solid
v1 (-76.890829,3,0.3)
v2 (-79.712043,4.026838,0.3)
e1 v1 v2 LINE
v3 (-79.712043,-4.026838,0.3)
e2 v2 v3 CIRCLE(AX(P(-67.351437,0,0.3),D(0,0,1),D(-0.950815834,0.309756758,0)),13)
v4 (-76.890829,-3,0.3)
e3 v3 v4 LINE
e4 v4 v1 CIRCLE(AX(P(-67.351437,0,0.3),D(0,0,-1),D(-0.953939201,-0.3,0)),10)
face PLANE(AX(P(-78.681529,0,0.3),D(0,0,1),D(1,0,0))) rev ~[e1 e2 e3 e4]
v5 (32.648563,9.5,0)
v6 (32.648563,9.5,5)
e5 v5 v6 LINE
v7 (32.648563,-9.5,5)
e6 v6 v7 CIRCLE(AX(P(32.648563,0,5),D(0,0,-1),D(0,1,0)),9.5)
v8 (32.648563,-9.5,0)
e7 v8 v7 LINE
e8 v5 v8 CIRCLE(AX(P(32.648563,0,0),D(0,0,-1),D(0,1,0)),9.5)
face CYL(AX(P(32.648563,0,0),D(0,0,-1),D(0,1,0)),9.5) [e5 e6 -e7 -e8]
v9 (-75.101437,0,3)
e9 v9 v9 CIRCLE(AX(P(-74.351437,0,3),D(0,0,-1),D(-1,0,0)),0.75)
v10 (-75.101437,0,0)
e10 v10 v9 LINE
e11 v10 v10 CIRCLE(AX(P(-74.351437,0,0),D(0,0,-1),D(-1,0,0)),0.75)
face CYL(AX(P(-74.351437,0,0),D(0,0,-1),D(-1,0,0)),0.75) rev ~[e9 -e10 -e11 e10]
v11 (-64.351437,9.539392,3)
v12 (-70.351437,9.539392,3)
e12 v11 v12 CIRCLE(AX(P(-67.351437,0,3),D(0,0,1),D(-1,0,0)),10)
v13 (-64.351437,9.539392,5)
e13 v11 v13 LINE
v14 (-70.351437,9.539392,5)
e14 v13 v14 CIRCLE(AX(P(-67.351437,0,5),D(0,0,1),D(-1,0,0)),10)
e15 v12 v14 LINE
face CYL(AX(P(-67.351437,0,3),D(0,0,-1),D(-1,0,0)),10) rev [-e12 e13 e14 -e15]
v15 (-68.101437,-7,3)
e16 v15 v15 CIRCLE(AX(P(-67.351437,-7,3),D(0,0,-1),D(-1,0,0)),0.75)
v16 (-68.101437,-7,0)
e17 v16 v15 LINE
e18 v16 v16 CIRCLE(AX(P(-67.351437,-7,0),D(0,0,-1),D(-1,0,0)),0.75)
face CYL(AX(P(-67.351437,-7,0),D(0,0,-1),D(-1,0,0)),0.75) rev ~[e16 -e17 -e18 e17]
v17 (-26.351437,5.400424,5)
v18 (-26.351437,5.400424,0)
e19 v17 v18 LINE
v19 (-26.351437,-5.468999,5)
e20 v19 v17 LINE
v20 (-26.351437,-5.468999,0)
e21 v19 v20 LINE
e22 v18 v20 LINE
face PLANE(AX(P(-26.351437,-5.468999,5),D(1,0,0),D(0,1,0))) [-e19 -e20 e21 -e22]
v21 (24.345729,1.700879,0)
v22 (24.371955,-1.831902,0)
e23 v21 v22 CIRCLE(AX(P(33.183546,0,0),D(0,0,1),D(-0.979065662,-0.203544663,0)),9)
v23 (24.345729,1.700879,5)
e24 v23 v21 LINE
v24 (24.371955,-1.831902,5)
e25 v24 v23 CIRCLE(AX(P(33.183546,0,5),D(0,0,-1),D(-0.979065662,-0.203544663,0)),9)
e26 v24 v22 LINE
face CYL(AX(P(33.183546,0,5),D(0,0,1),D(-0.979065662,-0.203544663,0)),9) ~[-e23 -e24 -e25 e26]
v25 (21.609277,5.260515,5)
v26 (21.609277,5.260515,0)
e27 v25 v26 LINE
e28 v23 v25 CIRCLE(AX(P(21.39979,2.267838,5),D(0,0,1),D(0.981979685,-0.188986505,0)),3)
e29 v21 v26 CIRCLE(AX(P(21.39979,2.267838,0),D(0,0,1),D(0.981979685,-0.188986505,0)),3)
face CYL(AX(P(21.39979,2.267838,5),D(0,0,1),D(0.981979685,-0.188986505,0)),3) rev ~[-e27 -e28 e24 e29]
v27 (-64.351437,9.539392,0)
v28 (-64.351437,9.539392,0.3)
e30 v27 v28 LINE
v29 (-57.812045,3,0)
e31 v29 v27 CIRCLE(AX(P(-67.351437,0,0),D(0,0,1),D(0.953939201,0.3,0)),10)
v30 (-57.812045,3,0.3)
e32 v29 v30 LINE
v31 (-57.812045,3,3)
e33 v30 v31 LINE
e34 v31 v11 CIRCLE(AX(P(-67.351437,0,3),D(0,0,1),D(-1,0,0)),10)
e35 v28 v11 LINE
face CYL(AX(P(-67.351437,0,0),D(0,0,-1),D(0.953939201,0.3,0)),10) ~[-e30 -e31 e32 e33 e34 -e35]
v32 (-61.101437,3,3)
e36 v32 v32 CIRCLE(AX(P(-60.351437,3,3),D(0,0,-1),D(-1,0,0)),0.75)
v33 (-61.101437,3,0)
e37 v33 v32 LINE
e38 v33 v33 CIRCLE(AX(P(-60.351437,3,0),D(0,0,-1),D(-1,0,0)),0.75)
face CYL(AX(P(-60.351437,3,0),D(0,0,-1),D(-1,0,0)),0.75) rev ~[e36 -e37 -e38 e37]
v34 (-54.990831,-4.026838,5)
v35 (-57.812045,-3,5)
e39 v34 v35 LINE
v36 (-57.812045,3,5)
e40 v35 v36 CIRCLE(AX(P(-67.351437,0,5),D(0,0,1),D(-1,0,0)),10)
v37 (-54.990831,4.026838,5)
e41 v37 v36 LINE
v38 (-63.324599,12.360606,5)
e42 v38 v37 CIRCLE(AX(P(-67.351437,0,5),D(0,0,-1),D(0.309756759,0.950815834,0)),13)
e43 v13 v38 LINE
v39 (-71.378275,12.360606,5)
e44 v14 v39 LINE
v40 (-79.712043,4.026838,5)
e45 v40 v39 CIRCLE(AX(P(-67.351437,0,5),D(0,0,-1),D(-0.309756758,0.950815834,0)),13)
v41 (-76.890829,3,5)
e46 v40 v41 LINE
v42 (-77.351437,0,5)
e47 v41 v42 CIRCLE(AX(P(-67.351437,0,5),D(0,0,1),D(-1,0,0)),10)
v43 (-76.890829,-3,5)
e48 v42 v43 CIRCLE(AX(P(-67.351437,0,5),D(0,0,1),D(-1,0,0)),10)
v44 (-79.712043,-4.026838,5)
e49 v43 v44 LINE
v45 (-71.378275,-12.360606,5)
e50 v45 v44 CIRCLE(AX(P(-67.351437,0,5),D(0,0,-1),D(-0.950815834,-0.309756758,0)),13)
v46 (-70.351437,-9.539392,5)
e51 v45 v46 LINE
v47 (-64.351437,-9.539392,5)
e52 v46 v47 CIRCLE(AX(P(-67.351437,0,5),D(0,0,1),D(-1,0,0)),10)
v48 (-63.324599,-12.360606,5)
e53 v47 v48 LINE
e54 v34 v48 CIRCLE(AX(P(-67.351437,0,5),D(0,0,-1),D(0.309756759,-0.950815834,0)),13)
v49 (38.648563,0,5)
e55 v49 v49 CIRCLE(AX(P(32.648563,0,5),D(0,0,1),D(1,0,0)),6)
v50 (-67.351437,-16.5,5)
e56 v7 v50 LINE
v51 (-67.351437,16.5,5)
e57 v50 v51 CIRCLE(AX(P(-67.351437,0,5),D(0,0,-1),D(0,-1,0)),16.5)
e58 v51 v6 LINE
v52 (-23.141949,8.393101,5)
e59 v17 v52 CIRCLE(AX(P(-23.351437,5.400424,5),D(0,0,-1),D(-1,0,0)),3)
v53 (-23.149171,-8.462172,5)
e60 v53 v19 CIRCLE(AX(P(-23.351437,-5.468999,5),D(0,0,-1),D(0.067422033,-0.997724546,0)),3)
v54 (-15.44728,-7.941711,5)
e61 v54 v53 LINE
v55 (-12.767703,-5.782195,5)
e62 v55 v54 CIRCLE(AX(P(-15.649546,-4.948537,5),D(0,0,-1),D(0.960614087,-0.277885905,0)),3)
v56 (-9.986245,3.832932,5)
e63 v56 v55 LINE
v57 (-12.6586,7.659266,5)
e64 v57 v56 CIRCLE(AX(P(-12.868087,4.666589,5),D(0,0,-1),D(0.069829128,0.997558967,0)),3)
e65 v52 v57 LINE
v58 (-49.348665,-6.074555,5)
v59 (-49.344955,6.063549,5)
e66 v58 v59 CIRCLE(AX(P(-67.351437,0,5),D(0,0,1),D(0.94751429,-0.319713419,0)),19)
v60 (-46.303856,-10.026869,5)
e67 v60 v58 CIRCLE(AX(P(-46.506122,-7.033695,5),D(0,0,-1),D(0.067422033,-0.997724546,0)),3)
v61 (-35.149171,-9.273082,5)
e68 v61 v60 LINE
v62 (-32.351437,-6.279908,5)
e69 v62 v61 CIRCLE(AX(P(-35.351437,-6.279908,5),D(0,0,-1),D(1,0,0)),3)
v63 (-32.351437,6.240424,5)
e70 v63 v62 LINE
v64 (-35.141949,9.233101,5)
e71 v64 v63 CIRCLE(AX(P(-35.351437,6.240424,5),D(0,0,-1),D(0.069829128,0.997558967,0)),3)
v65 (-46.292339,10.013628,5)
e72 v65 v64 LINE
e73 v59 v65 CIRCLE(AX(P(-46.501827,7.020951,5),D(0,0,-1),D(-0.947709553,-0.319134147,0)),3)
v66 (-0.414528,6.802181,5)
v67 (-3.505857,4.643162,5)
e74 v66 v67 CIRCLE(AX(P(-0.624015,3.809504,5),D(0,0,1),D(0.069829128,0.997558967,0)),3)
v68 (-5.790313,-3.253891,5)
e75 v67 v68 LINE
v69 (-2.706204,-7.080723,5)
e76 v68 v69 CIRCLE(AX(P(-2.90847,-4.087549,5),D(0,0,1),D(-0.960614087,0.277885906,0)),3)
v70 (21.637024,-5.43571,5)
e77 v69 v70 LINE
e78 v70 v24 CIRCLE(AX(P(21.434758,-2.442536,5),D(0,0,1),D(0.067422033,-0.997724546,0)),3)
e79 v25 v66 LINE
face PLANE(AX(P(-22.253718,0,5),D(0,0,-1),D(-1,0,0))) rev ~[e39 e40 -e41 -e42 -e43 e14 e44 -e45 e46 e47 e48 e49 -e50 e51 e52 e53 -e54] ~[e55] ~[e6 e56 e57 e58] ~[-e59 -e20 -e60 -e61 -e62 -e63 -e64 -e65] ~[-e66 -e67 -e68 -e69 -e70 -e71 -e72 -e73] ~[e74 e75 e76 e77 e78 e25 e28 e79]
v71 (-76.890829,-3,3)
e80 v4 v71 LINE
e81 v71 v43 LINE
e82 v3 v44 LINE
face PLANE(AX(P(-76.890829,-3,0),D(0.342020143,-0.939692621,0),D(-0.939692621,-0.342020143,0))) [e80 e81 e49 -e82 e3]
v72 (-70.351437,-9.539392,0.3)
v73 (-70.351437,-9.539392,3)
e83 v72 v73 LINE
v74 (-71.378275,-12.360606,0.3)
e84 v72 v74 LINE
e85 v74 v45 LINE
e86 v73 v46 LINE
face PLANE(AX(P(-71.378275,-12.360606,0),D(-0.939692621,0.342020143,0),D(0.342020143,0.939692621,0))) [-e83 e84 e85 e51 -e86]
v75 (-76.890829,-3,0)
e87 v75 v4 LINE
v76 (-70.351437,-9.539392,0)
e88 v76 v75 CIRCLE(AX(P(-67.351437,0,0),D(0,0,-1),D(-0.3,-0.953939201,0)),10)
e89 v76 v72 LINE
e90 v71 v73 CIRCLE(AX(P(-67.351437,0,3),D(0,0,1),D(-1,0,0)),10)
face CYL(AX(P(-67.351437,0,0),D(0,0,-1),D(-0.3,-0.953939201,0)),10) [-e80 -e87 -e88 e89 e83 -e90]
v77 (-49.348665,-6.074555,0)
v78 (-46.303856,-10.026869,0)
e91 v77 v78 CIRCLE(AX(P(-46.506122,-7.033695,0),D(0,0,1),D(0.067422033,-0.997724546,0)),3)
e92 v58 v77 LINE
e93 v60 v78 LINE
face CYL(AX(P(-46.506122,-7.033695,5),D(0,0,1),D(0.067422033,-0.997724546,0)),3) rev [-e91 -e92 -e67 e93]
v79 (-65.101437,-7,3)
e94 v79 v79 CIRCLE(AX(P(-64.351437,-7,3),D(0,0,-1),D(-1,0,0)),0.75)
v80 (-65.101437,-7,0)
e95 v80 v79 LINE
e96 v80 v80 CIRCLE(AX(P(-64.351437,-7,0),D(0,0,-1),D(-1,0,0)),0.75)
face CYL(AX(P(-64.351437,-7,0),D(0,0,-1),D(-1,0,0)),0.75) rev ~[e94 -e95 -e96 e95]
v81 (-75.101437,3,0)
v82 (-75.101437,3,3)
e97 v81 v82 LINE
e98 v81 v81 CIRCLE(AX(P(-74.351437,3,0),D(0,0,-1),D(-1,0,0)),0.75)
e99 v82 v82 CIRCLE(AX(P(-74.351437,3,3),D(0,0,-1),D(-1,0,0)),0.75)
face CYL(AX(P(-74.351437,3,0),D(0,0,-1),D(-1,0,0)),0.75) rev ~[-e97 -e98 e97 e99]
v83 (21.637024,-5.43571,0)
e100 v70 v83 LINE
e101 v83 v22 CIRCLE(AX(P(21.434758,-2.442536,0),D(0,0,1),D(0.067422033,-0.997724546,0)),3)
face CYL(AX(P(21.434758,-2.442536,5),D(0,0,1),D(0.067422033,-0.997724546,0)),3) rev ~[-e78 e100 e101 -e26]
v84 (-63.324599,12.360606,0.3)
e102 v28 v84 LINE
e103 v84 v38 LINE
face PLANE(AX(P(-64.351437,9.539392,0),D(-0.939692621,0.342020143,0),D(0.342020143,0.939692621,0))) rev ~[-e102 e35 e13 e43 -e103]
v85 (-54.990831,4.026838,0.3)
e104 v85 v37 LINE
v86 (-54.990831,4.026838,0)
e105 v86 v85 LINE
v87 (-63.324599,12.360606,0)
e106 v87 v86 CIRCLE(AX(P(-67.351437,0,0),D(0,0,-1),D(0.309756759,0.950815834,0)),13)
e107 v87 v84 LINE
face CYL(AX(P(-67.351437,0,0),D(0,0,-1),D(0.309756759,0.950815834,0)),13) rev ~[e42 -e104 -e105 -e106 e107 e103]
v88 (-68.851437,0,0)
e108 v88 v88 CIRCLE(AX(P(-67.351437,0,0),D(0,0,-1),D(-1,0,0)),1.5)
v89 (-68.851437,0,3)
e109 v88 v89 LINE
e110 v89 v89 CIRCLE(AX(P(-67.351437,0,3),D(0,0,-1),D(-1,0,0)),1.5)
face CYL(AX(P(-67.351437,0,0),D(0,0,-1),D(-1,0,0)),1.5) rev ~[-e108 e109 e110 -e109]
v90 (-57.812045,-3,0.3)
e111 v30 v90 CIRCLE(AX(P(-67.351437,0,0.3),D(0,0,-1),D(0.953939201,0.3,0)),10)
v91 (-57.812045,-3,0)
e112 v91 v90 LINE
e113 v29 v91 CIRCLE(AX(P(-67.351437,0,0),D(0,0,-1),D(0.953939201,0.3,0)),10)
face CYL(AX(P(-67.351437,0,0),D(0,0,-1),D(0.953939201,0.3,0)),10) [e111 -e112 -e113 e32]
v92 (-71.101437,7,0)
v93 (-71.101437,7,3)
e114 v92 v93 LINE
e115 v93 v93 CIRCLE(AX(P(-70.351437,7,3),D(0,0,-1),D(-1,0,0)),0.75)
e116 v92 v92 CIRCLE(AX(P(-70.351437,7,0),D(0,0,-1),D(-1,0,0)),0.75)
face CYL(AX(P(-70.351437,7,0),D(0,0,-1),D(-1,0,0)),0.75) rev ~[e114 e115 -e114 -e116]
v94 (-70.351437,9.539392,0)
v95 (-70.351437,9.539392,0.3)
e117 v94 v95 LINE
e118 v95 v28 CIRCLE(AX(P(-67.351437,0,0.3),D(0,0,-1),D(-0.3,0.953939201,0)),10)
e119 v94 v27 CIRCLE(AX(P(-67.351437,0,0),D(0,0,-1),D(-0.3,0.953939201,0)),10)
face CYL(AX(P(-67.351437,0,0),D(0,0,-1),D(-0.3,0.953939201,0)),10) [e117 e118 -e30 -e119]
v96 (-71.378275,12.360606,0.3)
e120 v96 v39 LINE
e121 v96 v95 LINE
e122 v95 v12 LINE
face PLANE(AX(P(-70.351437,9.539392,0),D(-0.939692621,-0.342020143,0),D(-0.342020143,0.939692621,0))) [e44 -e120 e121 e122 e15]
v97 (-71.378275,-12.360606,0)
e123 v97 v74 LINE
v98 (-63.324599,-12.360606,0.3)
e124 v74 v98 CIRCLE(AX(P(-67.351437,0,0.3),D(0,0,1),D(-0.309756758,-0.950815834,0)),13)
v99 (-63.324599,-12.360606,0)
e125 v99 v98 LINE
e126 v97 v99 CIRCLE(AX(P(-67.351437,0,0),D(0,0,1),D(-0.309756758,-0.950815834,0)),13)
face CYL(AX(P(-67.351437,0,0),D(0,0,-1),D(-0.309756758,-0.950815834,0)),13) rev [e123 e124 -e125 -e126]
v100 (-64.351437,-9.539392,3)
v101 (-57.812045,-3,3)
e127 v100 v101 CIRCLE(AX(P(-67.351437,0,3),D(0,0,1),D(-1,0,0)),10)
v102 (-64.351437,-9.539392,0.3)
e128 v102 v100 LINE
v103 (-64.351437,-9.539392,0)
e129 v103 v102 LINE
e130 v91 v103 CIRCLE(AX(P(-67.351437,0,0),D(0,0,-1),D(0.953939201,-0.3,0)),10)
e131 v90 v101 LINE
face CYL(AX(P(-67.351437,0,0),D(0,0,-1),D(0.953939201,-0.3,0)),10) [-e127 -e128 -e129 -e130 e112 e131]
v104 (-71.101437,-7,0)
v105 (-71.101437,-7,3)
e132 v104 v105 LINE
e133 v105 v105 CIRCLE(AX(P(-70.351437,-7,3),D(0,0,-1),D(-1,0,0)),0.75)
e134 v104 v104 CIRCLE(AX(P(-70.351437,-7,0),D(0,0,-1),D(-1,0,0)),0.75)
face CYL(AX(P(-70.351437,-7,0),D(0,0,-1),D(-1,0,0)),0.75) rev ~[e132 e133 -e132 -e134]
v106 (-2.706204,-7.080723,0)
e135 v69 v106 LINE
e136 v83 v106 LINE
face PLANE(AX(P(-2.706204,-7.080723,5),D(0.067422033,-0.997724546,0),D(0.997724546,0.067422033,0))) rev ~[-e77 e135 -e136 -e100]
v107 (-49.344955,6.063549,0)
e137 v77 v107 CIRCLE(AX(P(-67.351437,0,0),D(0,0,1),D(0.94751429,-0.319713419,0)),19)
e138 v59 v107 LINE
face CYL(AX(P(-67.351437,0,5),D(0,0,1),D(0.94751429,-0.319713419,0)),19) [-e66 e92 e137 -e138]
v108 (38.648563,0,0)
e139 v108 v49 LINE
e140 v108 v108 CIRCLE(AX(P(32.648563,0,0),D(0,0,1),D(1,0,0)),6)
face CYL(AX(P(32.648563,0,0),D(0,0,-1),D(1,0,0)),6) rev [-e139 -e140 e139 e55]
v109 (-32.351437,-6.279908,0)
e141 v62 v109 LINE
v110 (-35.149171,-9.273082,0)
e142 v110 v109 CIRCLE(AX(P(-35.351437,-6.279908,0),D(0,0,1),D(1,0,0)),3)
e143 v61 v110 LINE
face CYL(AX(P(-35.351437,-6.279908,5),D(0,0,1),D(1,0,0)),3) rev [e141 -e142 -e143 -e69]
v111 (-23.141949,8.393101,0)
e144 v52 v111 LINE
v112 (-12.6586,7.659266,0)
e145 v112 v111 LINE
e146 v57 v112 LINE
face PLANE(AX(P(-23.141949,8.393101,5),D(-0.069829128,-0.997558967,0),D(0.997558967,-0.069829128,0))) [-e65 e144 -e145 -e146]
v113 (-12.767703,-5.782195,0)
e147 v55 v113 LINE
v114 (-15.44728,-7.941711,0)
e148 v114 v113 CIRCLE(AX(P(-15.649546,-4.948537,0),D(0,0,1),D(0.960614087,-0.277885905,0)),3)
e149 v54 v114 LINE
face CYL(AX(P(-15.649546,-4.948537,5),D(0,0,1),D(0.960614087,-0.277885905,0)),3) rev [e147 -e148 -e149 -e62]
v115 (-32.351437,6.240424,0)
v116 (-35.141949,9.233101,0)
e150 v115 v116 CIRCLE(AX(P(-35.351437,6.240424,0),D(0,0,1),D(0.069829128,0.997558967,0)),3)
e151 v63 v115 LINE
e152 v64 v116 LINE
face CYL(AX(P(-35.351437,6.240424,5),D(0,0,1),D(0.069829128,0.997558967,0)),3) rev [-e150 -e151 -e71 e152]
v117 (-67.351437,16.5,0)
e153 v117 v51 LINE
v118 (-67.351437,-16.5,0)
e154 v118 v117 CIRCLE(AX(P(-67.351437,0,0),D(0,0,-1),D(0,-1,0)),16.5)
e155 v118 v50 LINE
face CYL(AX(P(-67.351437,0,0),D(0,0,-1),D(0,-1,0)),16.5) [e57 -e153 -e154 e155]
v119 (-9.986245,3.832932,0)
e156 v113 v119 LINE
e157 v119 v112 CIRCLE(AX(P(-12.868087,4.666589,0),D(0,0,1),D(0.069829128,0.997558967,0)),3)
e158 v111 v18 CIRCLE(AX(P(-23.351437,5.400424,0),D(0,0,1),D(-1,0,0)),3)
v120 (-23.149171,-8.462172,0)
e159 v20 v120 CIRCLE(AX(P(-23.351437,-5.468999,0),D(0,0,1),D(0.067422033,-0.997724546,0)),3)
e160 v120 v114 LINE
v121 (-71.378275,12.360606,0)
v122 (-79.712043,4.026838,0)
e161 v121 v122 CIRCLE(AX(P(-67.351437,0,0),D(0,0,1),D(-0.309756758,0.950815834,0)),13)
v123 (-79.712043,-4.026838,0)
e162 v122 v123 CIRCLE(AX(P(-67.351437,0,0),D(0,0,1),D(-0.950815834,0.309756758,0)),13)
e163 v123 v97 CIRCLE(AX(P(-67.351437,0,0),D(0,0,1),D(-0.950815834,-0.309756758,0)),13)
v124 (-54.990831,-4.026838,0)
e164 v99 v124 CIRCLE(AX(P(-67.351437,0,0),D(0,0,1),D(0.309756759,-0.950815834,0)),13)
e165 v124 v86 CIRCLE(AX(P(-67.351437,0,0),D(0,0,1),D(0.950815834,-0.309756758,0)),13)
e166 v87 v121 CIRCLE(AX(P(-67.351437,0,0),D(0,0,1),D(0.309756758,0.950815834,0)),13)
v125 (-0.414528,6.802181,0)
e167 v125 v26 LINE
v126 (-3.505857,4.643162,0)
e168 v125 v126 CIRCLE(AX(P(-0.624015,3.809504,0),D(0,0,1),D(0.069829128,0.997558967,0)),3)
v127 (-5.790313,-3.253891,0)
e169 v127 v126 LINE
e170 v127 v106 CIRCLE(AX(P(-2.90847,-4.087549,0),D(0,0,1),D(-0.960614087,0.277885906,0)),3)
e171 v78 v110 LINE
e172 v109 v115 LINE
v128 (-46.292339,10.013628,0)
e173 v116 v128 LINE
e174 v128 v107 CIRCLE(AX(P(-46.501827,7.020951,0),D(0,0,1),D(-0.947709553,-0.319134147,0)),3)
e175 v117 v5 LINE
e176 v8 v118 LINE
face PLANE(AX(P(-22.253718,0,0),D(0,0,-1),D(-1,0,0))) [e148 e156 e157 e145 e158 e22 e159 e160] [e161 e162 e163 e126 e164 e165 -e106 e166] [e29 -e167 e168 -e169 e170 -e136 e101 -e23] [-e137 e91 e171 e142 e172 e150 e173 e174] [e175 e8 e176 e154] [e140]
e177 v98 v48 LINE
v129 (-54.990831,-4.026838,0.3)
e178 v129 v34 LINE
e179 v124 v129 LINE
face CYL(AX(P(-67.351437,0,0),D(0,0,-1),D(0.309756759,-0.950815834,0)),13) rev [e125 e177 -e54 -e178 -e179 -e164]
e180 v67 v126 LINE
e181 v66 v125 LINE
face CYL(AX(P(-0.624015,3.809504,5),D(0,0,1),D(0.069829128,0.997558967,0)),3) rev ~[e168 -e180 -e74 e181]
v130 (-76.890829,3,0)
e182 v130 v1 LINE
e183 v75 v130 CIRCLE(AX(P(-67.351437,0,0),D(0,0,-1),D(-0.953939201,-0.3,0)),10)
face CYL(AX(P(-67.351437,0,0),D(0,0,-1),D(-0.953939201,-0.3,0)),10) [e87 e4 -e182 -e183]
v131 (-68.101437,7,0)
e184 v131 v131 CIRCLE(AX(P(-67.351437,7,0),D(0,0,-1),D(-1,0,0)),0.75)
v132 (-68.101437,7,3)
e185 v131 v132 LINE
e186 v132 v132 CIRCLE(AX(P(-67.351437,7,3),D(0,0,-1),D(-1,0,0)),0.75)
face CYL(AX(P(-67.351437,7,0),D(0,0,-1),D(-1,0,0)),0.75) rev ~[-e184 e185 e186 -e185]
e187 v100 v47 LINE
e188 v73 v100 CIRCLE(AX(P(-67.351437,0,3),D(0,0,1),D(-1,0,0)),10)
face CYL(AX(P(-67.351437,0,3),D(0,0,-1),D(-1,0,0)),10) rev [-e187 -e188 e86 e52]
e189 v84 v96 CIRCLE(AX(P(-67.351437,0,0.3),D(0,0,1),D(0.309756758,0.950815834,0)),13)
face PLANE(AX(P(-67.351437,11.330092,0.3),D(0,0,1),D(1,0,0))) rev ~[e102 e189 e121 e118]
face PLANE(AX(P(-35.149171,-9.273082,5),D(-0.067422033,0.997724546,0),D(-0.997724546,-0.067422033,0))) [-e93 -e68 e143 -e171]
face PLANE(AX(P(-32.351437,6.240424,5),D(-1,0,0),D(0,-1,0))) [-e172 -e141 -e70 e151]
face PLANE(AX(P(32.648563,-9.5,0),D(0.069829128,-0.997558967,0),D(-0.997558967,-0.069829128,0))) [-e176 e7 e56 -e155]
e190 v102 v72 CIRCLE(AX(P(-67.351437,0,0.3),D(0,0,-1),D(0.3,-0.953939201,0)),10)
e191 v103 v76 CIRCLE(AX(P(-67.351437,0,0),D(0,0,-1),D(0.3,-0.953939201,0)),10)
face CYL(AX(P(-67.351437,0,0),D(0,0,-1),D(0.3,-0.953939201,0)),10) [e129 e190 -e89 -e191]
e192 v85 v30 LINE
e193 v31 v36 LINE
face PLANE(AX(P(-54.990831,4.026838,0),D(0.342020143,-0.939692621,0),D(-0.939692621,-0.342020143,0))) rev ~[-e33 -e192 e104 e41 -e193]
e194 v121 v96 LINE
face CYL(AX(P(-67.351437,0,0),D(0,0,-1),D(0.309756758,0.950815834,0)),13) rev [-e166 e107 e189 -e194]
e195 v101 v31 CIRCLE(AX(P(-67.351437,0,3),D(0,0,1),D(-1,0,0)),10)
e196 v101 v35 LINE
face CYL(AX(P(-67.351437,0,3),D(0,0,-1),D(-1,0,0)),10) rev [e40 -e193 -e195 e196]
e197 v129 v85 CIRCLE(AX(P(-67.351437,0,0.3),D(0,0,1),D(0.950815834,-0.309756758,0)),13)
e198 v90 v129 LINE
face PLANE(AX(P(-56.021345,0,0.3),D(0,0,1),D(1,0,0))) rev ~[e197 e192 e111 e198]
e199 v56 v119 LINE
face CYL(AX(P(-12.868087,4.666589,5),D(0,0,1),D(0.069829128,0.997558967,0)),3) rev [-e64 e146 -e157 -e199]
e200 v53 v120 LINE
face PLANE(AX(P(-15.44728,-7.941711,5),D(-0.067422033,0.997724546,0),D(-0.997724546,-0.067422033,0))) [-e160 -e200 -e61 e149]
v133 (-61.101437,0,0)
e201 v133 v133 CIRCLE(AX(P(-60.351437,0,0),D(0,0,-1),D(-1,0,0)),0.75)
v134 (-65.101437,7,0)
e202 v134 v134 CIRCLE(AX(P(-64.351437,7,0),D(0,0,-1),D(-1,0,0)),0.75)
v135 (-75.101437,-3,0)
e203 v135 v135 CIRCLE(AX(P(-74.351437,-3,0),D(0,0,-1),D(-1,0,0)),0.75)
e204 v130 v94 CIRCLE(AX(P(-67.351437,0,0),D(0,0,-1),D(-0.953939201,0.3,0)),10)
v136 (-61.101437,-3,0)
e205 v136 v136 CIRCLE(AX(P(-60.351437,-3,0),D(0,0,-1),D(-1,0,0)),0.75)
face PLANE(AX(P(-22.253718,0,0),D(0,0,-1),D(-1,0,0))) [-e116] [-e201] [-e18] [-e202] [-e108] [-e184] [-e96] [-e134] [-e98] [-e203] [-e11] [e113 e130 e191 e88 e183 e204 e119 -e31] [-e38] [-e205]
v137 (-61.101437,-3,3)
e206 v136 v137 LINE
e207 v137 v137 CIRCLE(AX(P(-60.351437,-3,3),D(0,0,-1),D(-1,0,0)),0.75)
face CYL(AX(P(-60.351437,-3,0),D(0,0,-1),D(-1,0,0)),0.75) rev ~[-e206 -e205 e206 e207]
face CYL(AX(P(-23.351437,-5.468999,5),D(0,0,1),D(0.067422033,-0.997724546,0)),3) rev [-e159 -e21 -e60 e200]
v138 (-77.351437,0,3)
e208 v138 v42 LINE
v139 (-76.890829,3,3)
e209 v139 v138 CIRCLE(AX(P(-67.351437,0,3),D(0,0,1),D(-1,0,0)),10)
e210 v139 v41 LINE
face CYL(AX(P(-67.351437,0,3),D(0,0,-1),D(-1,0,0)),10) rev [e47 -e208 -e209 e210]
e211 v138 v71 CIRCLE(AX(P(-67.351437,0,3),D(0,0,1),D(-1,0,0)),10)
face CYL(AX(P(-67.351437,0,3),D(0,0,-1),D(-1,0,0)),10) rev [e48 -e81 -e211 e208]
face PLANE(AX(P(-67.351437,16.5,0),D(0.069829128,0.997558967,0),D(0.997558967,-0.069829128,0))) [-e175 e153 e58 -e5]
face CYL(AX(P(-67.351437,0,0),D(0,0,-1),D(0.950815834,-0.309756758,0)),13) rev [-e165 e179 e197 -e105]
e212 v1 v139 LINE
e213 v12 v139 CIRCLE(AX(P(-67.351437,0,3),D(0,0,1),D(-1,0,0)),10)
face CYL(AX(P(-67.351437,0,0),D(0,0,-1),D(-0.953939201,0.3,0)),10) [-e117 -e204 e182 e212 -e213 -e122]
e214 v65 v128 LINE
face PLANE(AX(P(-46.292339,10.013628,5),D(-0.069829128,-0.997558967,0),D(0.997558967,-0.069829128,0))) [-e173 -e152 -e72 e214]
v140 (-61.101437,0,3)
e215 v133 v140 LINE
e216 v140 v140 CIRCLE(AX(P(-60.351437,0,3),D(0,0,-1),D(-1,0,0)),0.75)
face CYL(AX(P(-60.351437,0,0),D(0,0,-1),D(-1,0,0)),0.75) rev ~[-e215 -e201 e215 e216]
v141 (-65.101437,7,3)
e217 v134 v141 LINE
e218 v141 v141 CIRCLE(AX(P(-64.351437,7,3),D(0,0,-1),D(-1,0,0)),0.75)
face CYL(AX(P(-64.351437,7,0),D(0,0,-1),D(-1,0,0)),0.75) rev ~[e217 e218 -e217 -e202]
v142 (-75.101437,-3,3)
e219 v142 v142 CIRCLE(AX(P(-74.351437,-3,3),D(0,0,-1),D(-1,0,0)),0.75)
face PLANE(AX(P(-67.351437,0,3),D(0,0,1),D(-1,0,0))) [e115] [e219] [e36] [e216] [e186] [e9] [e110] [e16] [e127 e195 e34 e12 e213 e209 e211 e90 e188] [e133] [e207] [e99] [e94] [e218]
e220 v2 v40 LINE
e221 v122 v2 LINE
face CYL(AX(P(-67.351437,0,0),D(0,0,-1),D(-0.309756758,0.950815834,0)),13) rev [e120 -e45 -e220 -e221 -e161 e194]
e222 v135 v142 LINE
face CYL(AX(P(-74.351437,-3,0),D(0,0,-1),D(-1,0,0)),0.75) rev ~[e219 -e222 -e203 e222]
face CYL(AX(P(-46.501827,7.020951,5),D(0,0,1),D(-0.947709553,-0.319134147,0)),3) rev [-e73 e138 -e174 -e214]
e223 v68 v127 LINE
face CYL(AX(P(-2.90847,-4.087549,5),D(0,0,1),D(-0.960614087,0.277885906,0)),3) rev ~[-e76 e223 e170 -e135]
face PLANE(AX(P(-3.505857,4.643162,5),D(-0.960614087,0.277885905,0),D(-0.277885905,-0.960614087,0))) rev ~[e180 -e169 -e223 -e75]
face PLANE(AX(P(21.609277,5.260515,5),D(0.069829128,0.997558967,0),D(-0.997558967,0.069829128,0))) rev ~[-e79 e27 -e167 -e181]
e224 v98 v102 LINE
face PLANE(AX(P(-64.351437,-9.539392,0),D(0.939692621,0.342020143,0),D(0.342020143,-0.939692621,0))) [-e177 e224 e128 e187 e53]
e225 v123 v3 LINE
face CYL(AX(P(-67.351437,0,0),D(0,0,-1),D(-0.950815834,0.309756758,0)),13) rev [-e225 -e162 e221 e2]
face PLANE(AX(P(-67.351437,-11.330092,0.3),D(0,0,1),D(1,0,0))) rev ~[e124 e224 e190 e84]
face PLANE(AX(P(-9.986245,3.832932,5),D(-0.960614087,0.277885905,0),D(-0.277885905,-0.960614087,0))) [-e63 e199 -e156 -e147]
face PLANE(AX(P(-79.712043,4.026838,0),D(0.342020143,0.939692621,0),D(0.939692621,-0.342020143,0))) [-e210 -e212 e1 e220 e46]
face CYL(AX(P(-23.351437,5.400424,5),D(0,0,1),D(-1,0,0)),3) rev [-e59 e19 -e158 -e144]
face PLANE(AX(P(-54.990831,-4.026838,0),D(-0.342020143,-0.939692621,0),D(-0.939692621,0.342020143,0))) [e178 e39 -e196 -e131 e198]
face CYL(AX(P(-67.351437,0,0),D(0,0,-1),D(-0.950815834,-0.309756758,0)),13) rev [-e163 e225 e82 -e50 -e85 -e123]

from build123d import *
from build123d.topology import SkipClean

# Parameters (mm, degrees)
SKETCH_1_R          = 6
EXTRUDE_1_DEPTH     = 5
SKETCH_2_R          = 1.5
SKETCH_2_R_2        = 0.75
CUT_EXTRUDE_3_DEPTH = 86.605569128
CUT_EXTRUDE_6_DEPTH = 0.3
CUT_EXTRUDE_8_DEPTH = 86.605569128
CUT_EXTRUDE_START   = -2
SKETCH_9_R          = 10
CUT_EXTRUDE_9_DEPTH = 2


with BuildPart() as part:
    # 草图1 → 凸台-拉伸1 (new body)
    with BuildSketch(Plane.XY):
        with BuildLine():
            Line((-67.351436873, 16.5), (32.648563127, 9.5))
            ThreePointArc((32.648563127, 9.5), (42.148563127, 0), (32.648563127, -9.5))
            Line((32.648563127, -9.5), (-67.351436873, -16.5))
            ThreePointArc((-67.351436873, -16.5), (-83.851436873, 0), (-67.351436873, 16.5))
        make_face()
        with Locations((32.648563127, 0)):
            Circle(SKETCH_1_R, mode=Mode.SUBTRACT)
    extrude(amount=EXTRUDE_1_DEPTH)

    # 草图2 → 切除-拉伸3 (cut, through all)
    with BuildSketch(Plane(origin=(0, 0, 0), x_dir=(-1, 0, 0), z_dir=(0, 0, -1))):
        with Locations((67.351436873, 0)):
            Circle(SKETCH_2_R)
        with Locations((60.351436873, 0)):
            Circle(SKETCH_2_R_2)
        with Locations((60.351436873, 3)):
            Circle(SKETCH_2_R_2)
        with Locations((60.351436873, -3)):
            Circle(SKETCH_2_R_2)
        with Locations((70.351436873, 7)):
            Circle(SKETCH_2_R_2)
        with Locations((67.351436873, 7)):
            Circle(SKETCH_2_R_2)
        with Locations((64.351436873, 7)):
            Circle(SKETCH_2_R_2)
        with Locations((74.351436873, -3)):
            Circle(SKETCH_2_R_2)
        with Locations((74.351436873, 0)):
            Circle(SKETCH_2_R_2)
        with Locations((74.351436873, 3)):
            Circle(SKETCH_2_R_2)
        with Locations((64.351436873, -7)):
            Circle(SKETCH_2_R_2)
        with Locations((67.351436873, -7)):
            Circle(SKETCH_2_R_2)
        with Locations((70.351436873, -7)):
            Circle(SKETCH_2_R_2)
        with BuildLine():
            Line((70.351436873, 9.539392014), (71.378274732, 12.360605845))
            ThreePointArc((71.378274732, 12.360605845), (76.543825029, 9.192388155), (79.712042718, 4.026837859))
            Line((79.712042718, 4.026837859), (76.890828887, 3))
            ThreePointArc((76.890828887, 3), (74.422504685, 7.071067812), (70.351436873, 9.539392014))
        make_face()
        with BuildLine():
            Line((64.351436873, 9.539392014), (63.324599014, 12.360605845))
            ThreePointArc((63.324599014, 12.360605845), (58.159048718, 9.192388155), (54.990831028, 4.026837859))
            Line((54.990831028, 4.026837859), (57.812044859, 3))
            ThreePointArc((57.812044859, 3), (60.280369061, 7.071067812), (64.351436873, 9.539392014))
        make_face()
        with BuildLine():
            Line((76.890828887, -3), (79.712042718, -4.026837859))
            ThreePointArc((79.712042718, -4.026837859), (76.543825029, -9.192388155), (71.378274732, -12.360605845))
            Line((71.378274732, -12.360605845), (70.351436873, -9.539392014))
            ThreePointArc((70.351436873, -9.539392014), (74.422504685, -7.071067812), (76.890828887, -3))
        make_face()
        with BuildLine():
            Line((64.351436873, -9.539392014), (63.324599014, -12.360605845))
            ThreePointArc((63.324599014, -12.360605845), (58.159048718, -9.192388155), (54.990831028, -4.026837859))
            Line((54.990831028, -4.026837859), (57.812044859, -3))
            ThreePointArc((57.812044859, -3), (60.280369061, -7.071067812), (64.351436873, -9.539392014))
        make_face()
    extrude(amount=-CUT_EXTRUDE_3_DEPTH, mode=Mode.SUBTRACT)

    # 草图5 → 切除-拉伸6 (cut)
    with SkipClean():  # the faces are left unmerged after this step: merging them gives an invalid solid
        with BuildSketch(Plane(origin=(0, 0, 0), x_dir=(-1, 0, 0), z_dir=(0, 0, -1))):
            with BuildLine():
                Line((70.351436873, -9.539392014), (71.378274732, -12.360605845))
                ThreePointArc((71.378274732, -12.360605845), (67.351436873, -13), (63.324599014, -12.360605845))
                Line((63.324599014, -12.360605845), (64.351436873, -9.539392014))
                ThreePointArc((64.351436873, -9.539392014), (67.351436873, -10), (70.351436873, -9.539392014))
            make_face()
            with BuildLine():
                Line((57.812044859, -3), (54.990831028, -4.026837859))
                ThreePointArc((54.990831028, -4.026837859), (54.351436873, 0), (54.990831028, 4.026837859))
                Line((54.990831028, 4.026837859), (57.812044859, 3))
                ThreePointArc((57.812044859, 3), (57.351436873, 0), (57.812044859, -3))
            make_face()
            with BuildLine():
                Line((79.712042718, -4.026837859), (76.890828887, -3))
                ThreePointArc((76.890828887, -3), (77.351436873, 0), (76.890828887, 3))
                Line((76.890828887, 3), (79.712042718, 4.026837859))
                ThreePointArc((79.712042718, 4.026837859), (80.351436873, 0), (79.712042718, -4.026837859))
            make_face()
            with BuildLine():
                Line((71.378274732, 12.360605845), (70.351436873, 9.539392014))
                ThreePointArc((70.351436873, 9.539392014), (67.351436873, 10), (64.351436873, 9.539392014))
                Line((64.351436873, 9.539392014), (63.324599014, 12.360605845))
                ThreePointArc((63.324599014, 12.360605845), (67.351436873, 13), (71.378274732, 12.360605845))
            make_face()
        extrude(amount=-CUT_EXTRUDE_6_DEPTH, mode=Mode.SUBTRACT)

    # 草图7 → 切除-拉伸8 (cut, through all)
    with SkipClean():  # the faces are left unmerged after this step: merging them gives an invalid solid
        with BuildSketch(Plane.XY.offset(5)):
            with BuildLine():
                Line((-32.351436873, 6.240423951), (-32.351436873, -6.279908436))
                ThreePointArc((-32.351436873, -6.279908436), (-33.159771035, -8.328469115), (-35.149170775, -9.273082074))
                Line((-35.149170775, -9.273082074), (-46.303856397, -10.026868861))
                ThreePointArc((-46.303856397, -10.026868861), (-48.882666549, -8.864552498), (-49.348665365, -6.074554966))
                ThreePointArc((-49.348665365, -6.074554966), (-48.351437761, -0.005807318), (-49.344955374, 6.063548799))
                ThreePointArc((-49.344955374, 6.063548799), (-48.875599725, 8.855399851), (-46.292339334, 10.013628142))
                Line((-46.292339334, 10.013628142), (-35.14194949, 9.233100853))
                ThreePointArc((-35.14194949, 9.233100853), (-33.157301263, 8.286339132), (-32.351436873, 6.240423951))
            make_face()
            with BuildLine():
                Line((-23.14194949, 8.393100853), (-12.658599808, 7.659266375))
                ThreePointArc((-12.658599808, 7.659266375), (-10.408556973, 6.384352876), (-9.986244931, 3.832931757))
                Line((-9.986244931, 3.832931757), (-12.767703456, -5.782195127))
                ThreePointArc((-12.767703456, -5.782195127), (-13.767045159, -7.284386647), (-15.447279617, -7.941711049))
                Line((-15.447279617, -7.941711049), (-23.149170775, -8.462172493))
                ThreePointArc((-23.149170775, -8.462172493), (-25.399997551, -7.660664694), (-26.351436873, -5.468998855))
                Line((-26.351436873, -5.468998855), (-26.351436873, 5.400423951))
                ThreePointArc((-26.351436873, 5.400423951), (-25.397352054, 7.594559561), (-23.14194949, 8.393100853))
            make_face()
            with BuildLine():
                Line((-3.505857343, 4.643162142), (-5.790312558, -3.25389135))
                ThreePointArc((-5.790312558, -3.25389135), (-5.244319535, -5.970049623), (-2.7062042, -7.080722705))
                Line((-2.7062042, -7.080722705), (21.637024401, -5.435709596))
                ThreePointArc((21.637024401, -5.435709596), (23.82451027, -4.256119574), (24.371955288, -1.831901968))
                ThreePointArc((24.371955288, -1.831901968), (24.183794233, -0.066811207), (24.345729084, 1.700878551))
                ThreePointArc((24.345729084, 1.700878551), (23.778220575, 4.09624397), (21.609277414, 5.26051497))
                Line((21.609277414, 5.26051497), (-0.414527699, 6.802181327))
                ThreePointArc((-0.414527699, 6.802181327), (-2.341778485, 6.269034644), (-3.505857343, 4.643162142))
            make_face()
        extrude(amount=-CUT_EXTRUDE_8_DEPTH, mode=Mode.SUBTRACT)

    # 草图9 → 切除-拉伸9 (cut)
    with SkipClean():  # the faces are left unmerged after this step: merging them gives an invalid solid
        with BuildSketch(Plane.XY.offset(5).offset(CUT_EXTRUDE_START)):
            with Locations(Location((-67.351436873, 0, 0), (0, 0, 180))):
                Circle(SKETCH_9_R)
        extrude(amount=CUT_EXTRUDE_9_DEPTH, mode=Mode.SUBTRACT)


solid = part.part
